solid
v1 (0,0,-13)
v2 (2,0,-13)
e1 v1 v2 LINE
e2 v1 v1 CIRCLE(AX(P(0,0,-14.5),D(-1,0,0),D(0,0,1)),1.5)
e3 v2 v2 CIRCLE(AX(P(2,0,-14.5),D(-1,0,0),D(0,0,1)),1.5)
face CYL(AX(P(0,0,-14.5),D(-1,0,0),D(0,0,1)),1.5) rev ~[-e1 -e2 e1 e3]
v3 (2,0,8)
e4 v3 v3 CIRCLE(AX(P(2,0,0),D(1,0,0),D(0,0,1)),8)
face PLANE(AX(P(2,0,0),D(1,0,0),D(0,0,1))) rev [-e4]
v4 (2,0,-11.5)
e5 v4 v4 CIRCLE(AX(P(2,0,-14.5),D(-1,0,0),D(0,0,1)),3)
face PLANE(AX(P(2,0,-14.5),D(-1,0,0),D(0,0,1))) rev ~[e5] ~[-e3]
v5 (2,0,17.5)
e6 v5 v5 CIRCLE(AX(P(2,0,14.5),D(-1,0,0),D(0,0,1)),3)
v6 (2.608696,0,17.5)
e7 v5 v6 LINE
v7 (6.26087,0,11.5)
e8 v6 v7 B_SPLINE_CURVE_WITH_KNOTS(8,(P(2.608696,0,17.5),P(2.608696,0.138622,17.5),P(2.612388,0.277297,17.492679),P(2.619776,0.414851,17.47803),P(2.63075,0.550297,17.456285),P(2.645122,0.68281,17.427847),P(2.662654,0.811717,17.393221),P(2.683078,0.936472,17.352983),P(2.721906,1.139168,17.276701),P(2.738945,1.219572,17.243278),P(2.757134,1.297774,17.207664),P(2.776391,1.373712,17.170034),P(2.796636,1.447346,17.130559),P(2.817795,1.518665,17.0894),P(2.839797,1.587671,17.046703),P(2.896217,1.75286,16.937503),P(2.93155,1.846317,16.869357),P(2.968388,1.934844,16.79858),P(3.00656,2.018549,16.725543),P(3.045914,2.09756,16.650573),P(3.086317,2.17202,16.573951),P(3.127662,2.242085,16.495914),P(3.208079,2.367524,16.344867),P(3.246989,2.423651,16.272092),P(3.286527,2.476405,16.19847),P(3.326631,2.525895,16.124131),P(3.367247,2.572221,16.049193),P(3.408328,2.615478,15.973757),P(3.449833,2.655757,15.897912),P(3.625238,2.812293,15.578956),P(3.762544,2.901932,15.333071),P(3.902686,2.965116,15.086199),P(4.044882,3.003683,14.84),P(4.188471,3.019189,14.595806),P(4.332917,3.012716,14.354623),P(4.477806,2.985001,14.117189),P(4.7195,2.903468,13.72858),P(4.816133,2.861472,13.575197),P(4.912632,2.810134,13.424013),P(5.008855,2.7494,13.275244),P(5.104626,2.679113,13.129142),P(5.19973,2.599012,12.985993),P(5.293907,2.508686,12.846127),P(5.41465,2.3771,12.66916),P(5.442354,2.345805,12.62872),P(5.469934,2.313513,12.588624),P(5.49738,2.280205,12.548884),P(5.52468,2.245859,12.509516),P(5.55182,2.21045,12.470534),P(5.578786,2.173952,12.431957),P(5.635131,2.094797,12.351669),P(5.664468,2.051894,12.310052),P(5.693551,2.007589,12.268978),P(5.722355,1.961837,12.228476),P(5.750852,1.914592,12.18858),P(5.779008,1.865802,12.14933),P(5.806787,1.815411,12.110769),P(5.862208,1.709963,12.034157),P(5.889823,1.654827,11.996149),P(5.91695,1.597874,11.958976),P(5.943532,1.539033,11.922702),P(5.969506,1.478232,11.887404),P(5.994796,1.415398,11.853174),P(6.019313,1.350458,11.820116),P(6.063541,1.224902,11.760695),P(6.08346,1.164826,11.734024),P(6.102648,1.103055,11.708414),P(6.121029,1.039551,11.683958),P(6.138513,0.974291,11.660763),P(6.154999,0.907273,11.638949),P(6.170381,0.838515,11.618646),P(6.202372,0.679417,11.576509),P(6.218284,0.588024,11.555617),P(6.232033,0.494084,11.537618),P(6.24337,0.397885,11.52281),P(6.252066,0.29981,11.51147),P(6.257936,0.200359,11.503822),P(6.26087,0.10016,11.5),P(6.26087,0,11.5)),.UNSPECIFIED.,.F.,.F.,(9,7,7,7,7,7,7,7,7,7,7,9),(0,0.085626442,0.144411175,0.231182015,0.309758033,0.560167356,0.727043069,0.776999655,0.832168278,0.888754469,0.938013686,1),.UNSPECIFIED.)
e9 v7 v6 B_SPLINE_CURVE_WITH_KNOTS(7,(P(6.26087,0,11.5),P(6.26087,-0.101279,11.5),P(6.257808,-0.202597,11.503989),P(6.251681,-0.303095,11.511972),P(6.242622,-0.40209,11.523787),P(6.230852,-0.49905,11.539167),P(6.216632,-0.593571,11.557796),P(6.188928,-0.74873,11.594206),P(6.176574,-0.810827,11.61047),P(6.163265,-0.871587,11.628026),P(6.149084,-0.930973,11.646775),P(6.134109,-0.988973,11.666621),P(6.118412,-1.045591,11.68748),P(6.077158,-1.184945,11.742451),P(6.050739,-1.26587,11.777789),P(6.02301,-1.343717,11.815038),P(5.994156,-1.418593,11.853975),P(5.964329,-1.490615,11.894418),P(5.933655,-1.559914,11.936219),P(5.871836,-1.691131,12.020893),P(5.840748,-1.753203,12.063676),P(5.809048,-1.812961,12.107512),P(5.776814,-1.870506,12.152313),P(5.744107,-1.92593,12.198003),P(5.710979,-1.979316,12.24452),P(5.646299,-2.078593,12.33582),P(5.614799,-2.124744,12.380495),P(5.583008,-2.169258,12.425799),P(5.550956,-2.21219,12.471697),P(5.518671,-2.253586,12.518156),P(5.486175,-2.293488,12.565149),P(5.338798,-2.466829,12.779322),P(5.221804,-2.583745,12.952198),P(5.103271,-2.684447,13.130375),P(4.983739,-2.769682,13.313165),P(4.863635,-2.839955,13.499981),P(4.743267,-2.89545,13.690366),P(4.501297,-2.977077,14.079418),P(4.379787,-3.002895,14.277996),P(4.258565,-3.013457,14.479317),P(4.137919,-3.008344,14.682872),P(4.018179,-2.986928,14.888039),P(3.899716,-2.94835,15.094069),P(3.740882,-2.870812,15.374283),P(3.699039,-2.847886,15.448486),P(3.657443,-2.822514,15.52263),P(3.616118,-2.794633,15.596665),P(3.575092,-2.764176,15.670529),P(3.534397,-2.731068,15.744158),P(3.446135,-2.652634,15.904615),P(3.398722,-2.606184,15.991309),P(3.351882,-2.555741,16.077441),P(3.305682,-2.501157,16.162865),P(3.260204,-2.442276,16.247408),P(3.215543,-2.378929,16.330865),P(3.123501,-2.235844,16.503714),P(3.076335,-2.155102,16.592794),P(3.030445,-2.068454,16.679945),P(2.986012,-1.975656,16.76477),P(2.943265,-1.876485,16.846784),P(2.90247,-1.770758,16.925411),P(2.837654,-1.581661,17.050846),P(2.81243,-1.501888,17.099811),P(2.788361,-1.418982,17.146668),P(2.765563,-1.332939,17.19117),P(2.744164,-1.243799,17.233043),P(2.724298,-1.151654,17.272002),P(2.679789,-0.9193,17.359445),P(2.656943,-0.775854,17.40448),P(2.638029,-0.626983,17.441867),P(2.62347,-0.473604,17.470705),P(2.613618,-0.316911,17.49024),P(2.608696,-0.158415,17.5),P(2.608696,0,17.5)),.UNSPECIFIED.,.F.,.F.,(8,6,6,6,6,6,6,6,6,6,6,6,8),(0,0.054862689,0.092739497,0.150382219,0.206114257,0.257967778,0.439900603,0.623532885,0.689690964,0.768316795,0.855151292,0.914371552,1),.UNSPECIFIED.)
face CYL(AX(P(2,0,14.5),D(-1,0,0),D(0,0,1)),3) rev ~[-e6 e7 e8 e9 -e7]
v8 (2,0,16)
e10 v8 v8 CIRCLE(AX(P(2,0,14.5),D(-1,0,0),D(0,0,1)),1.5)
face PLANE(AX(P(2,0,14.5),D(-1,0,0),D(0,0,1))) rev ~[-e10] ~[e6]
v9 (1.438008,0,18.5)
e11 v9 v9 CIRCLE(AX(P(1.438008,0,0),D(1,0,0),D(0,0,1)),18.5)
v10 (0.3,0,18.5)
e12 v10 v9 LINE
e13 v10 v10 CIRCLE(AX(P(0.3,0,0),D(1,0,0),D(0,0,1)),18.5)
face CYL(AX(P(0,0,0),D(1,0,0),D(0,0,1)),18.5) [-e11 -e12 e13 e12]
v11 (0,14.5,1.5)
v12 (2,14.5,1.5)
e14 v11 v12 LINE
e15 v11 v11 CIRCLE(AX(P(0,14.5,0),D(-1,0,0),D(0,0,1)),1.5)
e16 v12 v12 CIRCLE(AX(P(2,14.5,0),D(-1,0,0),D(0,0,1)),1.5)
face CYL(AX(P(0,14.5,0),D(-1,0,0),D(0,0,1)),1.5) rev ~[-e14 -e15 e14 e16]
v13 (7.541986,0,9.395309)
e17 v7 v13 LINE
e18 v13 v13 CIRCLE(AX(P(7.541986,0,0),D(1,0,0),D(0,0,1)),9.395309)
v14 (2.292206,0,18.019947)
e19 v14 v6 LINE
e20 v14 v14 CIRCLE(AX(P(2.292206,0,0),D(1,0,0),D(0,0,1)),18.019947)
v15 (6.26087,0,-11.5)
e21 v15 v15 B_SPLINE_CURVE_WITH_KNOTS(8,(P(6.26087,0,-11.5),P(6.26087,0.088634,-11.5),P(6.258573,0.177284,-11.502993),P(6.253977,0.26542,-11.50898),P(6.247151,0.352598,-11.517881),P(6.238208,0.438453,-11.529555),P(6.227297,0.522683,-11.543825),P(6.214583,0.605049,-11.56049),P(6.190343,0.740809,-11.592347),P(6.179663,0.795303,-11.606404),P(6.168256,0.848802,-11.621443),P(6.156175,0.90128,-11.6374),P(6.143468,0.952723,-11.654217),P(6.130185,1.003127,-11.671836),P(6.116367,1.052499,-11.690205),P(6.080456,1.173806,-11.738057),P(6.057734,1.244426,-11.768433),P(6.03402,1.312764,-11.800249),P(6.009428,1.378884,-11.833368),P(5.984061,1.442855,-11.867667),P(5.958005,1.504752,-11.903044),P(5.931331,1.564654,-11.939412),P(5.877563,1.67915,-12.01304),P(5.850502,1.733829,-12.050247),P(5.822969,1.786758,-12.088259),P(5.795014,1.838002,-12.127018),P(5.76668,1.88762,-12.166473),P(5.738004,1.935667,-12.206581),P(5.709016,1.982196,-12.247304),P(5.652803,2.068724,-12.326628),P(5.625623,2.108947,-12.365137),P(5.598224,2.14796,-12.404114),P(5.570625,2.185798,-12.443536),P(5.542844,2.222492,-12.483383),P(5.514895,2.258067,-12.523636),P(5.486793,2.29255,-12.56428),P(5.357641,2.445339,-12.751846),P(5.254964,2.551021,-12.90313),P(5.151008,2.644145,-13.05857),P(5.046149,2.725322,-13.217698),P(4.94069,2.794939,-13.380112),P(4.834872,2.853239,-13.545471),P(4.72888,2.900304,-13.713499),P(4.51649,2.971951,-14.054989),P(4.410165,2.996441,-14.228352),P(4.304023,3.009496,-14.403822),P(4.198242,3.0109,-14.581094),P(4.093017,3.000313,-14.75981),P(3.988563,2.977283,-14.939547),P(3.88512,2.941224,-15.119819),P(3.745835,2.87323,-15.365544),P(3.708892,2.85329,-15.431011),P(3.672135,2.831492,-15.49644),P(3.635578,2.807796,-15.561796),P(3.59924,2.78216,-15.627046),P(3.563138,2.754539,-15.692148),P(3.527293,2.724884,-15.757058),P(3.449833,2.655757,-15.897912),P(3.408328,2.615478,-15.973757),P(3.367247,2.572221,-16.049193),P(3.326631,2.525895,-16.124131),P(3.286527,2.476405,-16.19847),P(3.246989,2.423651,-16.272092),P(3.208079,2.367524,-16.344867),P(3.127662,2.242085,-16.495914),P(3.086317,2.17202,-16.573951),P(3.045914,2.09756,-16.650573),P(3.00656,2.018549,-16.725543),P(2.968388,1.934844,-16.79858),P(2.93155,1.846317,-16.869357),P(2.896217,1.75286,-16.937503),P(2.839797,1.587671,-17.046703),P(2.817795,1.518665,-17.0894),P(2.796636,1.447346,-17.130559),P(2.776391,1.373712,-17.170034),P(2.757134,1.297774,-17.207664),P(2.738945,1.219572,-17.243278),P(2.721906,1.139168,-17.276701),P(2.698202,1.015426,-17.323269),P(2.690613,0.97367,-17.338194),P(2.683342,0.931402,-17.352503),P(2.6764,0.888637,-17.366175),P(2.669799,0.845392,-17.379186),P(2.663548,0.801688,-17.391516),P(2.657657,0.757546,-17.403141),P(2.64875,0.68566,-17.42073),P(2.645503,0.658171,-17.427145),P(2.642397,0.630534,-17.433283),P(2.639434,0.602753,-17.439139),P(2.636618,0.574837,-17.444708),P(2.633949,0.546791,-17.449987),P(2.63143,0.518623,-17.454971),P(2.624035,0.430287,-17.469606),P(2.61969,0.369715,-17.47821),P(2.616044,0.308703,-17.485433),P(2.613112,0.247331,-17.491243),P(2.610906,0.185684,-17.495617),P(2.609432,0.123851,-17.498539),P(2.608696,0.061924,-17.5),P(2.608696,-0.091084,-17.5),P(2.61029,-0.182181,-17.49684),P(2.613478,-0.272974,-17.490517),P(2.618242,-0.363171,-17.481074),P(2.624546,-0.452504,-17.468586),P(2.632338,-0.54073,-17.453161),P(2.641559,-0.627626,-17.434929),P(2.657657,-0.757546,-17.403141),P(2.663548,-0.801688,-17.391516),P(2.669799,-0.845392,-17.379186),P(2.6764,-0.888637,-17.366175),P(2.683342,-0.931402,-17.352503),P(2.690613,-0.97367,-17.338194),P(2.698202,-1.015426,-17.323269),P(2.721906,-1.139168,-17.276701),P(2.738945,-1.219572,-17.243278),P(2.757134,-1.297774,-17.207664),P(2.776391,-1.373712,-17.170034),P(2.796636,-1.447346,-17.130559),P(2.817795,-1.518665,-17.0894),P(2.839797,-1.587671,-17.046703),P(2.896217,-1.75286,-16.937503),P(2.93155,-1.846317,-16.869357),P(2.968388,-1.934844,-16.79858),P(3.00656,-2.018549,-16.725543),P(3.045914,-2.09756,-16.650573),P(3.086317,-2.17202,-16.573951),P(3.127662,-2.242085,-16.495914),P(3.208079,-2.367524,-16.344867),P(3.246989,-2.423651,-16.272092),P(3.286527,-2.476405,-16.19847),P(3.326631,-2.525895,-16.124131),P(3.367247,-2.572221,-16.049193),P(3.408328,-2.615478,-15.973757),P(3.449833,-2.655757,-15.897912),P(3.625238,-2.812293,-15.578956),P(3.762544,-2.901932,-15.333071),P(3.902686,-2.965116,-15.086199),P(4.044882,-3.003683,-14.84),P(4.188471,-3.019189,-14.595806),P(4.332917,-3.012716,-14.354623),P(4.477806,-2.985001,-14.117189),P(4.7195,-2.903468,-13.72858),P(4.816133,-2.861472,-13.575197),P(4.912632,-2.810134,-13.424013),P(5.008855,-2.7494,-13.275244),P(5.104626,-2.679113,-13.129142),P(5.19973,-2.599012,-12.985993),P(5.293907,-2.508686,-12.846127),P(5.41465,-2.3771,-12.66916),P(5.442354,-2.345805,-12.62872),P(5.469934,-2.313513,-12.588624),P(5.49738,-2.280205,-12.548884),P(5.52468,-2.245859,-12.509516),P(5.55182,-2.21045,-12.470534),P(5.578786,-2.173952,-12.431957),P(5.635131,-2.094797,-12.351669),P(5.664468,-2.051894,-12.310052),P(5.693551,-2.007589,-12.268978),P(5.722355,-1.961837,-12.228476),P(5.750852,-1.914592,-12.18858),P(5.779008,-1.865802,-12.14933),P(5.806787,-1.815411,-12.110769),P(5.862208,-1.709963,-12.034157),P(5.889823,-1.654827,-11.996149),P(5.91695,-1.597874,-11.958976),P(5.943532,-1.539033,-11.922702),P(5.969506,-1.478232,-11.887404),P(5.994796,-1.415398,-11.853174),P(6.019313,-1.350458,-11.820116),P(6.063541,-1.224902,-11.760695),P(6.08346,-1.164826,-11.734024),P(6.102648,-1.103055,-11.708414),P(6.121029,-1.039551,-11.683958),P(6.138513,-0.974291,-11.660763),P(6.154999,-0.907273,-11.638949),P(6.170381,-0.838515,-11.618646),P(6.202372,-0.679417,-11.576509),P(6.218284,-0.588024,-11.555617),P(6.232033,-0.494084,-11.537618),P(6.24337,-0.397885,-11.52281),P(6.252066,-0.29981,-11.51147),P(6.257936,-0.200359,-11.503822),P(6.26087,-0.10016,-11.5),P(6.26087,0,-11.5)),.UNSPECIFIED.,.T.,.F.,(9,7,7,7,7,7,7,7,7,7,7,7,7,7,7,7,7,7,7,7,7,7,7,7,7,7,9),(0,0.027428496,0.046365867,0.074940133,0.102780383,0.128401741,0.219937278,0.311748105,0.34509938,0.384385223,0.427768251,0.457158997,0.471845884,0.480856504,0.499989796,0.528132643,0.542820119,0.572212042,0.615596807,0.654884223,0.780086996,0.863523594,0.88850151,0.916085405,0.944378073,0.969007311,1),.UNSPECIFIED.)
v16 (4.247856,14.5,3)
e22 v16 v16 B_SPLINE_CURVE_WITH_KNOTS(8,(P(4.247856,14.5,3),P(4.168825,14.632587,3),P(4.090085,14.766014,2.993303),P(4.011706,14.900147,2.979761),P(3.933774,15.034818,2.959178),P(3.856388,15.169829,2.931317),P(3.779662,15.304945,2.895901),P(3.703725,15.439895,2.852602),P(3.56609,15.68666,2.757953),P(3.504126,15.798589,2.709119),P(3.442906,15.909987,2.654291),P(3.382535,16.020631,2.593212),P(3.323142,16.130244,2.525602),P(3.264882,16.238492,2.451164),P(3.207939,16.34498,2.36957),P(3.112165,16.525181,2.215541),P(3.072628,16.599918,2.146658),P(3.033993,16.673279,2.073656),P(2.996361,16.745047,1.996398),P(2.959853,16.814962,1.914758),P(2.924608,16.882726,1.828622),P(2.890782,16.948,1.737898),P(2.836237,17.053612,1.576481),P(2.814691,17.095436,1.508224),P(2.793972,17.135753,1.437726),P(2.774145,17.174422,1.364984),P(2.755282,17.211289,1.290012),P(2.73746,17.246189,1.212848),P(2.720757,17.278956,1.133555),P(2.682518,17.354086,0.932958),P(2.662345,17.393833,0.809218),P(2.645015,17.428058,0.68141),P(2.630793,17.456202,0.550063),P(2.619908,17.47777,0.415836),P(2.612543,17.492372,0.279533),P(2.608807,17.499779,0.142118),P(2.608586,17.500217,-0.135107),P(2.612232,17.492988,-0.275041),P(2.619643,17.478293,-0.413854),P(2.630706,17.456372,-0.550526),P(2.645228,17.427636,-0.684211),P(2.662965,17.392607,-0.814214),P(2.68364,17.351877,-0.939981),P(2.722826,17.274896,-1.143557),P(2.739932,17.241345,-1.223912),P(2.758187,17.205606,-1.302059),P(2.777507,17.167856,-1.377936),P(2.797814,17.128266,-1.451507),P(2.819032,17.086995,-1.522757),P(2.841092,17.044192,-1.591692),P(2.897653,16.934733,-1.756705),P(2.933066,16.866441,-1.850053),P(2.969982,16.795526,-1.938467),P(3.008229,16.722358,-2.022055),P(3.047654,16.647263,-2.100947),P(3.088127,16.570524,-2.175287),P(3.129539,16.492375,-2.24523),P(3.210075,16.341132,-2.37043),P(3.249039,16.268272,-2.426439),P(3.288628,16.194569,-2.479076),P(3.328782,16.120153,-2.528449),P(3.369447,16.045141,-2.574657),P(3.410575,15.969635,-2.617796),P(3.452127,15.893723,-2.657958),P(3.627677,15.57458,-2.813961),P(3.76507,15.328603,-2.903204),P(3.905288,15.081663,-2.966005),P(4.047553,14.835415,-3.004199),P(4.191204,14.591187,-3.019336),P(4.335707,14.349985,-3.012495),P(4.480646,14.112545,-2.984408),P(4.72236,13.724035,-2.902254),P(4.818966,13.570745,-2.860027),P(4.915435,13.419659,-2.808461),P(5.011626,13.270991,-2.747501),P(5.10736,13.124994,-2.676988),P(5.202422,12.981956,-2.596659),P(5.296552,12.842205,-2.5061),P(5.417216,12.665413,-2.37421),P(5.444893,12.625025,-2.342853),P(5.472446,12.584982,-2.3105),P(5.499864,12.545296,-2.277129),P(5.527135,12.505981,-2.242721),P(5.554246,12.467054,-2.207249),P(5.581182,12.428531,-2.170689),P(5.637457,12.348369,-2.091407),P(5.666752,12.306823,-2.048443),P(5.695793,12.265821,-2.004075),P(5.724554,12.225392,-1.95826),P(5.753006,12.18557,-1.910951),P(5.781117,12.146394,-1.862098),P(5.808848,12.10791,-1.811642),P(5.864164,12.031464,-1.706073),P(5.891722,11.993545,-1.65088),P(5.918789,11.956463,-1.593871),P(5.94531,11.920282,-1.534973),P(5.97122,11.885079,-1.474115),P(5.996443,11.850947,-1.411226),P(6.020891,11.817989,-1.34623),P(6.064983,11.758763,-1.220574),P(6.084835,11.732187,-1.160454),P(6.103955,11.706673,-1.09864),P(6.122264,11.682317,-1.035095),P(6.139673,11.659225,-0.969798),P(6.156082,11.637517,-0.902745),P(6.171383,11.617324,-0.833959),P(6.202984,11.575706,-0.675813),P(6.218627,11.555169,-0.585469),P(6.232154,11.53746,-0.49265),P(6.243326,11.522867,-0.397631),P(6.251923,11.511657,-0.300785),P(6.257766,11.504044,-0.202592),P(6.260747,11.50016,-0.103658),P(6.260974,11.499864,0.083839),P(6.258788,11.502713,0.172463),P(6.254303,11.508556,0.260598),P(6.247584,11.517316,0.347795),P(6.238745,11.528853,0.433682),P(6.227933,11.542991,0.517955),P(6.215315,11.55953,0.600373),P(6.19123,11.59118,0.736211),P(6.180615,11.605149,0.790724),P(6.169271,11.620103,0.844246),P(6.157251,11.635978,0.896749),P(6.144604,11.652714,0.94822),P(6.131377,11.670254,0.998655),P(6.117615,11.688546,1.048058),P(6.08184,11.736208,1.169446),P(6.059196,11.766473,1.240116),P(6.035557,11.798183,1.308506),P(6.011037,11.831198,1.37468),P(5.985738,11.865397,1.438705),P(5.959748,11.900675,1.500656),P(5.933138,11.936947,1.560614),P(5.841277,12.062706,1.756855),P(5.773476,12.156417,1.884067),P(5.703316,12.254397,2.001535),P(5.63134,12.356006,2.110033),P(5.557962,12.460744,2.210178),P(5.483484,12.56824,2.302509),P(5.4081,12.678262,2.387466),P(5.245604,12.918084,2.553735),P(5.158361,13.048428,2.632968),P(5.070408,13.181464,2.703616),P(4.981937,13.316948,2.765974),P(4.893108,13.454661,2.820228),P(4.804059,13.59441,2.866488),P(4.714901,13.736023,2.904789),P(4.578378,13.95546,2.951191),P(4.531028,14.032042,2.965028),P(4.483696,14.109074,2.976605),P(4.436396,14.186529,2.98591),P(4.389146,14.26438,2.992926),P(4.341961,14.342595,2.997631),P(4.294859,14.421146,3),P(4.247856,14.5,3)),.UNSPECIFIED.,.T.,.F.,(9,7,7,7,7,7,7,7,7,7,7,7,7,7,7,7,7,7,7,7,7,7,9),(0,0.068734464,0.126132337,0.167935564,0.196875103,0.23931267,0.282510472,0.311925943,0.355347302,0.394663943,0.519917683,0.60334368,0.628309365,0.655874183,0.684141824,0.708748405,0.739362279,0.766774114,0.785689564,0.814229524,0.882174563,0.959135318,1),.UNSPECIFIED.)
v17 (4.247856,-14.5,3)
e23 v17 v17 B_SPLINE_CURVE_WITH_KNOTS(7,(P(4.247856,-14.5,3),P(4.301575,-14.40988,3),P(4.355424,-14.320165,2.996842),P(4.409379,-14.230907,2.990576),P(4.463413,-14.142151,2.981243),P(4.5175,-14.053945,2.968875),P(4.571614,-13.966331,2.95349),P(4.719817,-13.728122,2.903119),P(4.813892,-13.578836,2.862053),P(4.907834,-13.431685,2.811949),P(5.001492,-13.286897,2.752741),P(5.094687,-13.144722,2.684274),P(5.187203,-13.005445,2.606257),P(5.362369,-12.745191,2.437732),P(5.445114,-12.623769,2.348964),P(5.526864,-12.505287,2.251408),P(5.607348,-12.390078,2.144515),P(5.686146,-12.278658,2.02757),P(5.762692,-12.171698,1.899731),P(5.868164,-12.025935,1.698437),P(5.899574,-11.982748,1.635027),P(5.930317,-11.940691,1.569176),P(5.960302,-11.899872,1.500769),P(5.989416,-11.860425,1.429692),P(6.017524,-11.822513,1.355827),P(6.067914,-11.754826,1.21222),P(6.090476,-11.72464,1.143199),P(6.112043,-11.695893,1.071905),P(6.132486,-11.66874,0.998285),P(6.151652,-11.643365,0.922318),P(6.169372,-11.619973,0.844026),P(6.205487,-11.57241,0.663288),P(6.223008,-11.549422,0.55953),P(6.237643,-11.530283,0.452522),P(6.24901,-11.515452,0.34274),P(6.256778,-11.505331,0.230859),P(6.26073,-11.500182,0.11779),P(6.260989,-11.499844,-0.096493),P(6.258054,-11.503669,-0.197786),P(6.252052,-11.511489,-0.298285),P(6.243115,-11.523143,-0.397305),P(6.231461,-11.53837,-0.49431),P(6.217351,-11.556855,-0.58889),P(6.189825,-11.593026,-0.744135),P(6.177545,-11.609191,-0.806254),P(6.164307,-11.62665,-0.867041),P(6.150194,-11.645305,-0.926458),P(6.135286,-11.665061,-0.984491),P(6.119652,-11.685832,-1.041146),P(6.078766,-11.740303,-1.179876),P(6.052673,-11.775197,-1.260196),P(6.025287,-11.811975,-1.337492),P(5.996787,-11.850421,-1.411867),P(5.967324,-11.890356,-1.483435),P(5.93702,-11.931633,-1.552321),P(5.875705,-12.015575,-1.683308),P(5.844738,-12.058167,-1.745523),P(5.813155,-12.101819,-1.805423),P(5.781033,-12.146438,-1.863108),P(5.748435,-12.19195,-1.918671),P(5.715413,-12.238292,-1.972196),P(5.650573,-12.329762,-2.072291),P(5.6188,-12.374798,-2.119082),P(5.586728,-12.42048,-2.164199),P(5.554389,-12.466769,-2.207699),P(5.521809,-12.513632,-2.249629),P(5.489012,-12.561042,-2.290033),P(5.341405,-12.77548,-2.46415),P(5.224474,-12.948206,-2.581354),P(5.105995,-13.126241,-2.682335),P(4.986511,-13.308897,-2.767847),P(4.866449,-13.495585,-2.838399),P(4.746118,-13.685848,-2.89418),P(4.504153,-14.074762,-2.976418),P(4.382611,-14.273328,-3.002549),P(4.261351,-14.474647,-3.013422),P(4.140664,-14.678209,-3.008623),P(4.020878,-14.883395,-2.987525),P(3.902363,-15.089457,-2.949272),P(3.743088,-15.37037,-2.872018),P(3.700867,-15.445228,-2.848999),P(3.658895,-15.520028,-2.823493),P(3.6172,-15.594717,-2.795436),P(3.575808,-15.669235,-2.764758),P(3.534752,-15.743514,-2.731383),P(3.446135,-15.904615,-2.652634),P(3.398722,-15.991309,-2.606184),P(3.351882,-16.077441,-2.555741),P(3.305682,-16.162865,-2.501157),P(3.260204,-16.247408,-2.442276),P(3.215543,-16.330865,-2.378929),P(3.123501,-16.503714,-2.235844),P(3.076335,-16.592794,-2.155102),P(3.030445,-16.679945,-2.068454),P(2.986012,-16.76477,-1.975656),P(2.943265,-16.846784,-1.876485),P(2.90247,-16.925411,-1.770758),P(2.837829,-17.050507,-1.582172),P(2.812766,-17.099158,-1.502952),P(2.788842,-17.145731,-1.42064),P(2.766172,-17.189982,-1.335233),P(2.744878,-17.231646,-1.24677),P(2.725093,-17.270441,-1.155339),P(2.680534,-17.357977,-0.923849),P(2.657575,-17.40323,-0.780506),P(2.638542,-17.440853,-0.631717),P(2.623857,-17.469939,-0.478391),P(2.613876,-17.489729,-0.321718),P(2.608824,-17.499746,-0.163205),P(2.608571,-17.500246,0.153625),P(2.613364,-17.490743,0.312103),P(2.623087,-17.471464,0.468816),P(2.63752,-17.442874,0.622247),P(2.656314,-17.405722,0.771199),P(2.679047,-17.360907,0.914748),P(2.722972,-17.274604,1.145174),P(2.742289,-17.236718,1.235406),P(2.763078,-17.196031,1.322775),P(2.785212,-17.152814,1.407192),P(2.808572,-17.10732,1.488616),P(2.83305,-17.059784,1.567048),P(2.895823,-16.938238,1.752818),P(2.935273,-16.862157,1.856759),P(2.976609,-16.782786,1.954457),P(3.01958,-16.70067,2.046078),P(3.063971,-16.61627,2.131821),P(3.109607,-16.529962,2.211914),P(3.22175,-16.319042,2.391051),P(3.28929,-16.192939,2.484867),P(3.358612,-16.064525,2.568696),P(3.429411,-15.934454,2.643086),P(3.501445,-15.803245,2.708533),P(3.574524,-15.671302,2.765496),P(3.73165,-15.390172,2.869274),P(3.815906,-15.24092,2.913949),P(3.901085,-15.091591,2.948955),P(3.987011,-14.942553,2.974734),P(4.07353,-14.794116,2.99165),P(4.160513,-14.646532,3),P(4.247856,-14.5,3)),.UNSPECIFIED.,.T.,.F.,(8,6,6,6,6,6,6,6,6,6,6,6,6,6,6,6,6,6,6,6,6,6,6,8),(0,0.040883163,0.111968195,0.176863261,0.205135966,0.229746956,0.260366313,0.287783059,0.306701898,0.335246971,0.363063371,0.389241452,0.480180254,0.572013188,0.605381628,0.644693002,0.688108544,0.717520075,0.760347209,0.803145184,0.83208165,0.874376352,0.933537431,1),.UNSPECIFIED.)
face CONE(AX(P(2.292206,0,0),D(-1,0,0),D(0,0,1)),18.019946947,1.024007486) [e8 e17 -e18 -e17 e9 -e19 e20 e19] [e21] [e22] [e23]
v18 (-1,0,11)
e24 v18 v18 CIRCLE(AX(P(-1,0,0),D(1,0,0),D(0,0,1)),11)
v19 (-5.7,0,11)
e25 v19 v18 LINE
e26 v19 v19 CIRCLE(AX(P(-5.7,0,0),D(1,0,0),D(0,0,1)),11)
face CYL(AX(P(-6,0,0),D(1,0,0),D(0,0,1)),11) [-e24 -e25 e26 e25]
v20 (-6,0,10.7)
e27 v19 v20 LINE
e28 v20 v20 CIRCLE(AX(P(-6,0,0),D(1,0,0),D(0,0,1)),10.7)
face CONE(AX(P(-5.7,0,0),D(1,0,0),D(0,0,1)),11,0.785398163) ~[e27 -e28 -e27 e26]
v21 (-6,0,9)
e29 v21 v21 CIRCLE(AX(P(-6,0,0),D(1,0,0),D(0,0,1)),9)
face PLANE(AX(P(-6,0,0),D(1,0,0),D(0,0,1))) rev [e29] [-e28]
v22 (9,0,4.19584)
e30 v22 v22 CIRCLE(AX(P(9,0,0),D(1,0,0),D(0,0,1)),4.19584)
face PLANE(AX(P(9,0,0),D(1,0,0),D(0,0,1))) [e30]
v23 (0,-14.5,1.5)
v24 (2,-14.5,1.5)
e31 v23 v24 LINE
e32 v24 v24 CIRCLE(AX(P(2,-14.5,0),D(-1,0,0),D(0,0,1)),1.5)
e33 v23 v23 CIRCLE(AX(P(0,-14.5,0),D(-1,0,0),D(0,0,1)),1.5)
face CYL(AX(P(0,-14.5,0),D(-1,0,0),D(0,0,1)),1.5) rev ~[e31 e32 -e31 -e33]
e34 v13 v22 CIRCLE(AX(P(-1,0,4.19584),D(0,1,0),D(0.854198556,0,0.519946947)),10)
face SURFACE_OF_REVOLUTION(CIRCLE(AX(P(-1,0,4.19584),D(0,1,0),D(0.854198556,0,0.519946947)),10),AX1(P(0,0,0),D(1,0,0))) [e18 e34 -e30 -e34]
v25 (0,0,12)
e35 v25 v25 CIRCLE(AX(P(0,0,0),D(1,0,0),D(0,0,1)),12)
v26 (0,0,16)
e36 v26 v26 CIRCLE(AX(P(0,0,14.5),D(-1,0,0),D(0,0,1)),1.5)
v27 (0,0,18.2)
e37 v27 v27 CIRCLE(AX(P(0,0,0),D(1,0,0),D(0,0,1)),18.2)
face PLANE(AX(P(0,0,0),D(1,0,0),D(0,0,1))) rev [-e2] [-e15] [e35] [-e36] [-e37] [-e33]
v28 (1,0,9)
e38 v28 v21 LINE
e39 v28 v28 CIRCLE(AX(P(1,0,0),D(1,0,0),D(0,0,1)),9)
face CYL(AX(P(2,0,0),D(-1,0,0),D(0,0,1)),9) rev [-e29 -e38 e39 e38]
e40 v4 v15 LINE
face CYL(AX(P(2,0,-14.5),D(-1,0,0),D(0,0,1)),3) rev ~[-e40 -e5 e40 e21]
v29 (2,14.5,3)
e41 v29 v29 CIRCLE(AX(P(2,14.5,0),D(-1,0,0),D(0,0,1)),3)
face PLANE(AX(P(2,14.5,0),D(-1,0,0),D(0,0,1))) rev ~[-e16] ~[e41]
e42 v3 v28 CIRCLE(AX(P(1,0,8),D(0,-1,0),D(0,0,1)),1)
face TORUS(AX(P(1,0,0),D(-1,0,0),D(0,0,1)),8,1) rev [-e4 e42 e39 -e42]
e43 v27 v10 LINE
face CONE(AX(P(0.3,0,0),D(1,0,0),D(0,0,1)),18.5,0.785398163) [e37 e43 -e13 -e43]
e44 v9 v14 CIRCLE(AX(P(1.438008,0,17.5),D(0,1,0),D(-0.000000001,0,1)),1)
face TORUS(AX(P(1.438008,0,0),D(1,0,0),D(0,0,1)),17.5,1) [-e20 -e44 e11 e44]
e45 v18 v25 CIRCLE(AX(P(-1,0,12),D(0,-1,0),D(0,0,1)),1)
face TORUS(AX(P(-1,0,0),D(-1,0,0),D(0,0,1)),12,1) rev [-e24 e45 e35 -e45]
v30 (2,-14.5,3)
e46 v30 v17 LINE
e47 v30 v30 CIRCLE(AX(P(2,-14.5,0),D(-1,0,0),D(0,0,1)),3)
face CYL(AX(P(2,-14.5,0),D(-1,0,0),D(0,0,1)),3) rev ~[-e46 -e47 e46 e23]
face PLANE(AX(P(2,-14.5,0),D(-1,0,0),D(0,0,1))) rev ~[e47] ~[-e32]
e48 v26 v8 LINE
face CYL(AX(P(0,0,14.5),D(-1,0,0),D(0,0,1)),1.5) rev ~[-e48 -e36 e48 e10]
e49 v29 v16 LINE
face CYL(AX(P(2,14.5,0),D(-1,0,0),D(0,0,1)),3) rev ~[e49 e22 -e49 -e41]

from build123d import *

# Parameters (mm, degrees)
FILLET2_R          = 1
CHAMFER1_SIZE      = 0.3
SKETCH2_R          = 1.5
CUT_EXTRUDE1_DEPTH = 10
SKETCH3_R          = 3
CUT_EXTRUDE2_DEPTH = 10


with BuildPart() as part:
    # Sketch1 → Revolve1 (revolve)
    with BuildSketch(Plane.XY, mode=Mode.PRIVATE) as revolve1_sk:
        with BuildLine():
            Line((-6, 9), (-6, 11))
            Line((-6, 11), (0, 11))
            Line((0, 11), (0, 18.5))
            Line((0, 18.5), (1.438007651, 18.5))
            ThreePointArc((1.438007651, 18.5), (1.927932672, 18.371764575), (2.292206206, 18.019946947))
            Line((2.292206206, 18.019946947), (7.541985556, 9.395309443))
            ThreePointArc((7.541985556, 9.395309443), (8.628599471, 6.895853348), (9, 4.195839975))
            Line((9, 4.195839975), (9, 0))
            Line((9, 0), (2, 0))
            Line((2, 0), (2, 9))
            Line((2, 9), (-6, 9))
        make_face()
    revolve(revolve1_sk.sketch.rotate(Axis((0, 0, 0), (1, 0, 0)), 90), axis=Axis((0, 0, 0), (1, 0, 0)))

    # Fillet2
    fillet2_edges = [part.edges().sort_by_distance(p)[0] for p in [
        (0, 0, -11),
        (2, 0, -9),
    ]]
    fillet(fillet2_edges, radius=FILLET2_R)

    # Chamfer1
    chamfer1_edges = [part.edges().sort_by_distance(p)[0] for p in [
        (0, 0, -18.5),
        (-6, 0, -11),
    ]]
    chamfer(chamfer1_edges, length=CHAMFER1_SIZE)

    # Sketch2 → Cut-Extrude1 (cut)
    with BuildSketch(Plane.ZY):
        with Locations((0, 14.5)):
            Circle(SKETCH2_R)
        with Locations((14.5, 0)):
            Circle(SKETCH2_R)
        with Locations((0, -14.5)):
            Circle(SKETCH2_R)
        with Locations((-14.5, 0)):
            Circle(SKETCH2_R)
    extrude(amount=-CUT_EXTRUDE1_DEPTH, mode=Mode.SUBTRACT)

    # Sketch3 → Cut-Extrude2 (cut)
    with BuildSketch(Plane.ZY.offset(-2)):
        with Locations((0, 14.5)):
            Circle(SKETCH3_R)
        with Locations((14.5, 0)):
            Circle(SKETCH3_R)
        with Locations((0, -14.5)):
            Circle(SKETCH3_R)
        with Locations((-14.5, 0)):
            Circle(SKETCH3_R)
    extrude(amount=-CUT_EXTRUDE2_DEPTH, mode=Mode.SUBTRACT)


solid = part.part
